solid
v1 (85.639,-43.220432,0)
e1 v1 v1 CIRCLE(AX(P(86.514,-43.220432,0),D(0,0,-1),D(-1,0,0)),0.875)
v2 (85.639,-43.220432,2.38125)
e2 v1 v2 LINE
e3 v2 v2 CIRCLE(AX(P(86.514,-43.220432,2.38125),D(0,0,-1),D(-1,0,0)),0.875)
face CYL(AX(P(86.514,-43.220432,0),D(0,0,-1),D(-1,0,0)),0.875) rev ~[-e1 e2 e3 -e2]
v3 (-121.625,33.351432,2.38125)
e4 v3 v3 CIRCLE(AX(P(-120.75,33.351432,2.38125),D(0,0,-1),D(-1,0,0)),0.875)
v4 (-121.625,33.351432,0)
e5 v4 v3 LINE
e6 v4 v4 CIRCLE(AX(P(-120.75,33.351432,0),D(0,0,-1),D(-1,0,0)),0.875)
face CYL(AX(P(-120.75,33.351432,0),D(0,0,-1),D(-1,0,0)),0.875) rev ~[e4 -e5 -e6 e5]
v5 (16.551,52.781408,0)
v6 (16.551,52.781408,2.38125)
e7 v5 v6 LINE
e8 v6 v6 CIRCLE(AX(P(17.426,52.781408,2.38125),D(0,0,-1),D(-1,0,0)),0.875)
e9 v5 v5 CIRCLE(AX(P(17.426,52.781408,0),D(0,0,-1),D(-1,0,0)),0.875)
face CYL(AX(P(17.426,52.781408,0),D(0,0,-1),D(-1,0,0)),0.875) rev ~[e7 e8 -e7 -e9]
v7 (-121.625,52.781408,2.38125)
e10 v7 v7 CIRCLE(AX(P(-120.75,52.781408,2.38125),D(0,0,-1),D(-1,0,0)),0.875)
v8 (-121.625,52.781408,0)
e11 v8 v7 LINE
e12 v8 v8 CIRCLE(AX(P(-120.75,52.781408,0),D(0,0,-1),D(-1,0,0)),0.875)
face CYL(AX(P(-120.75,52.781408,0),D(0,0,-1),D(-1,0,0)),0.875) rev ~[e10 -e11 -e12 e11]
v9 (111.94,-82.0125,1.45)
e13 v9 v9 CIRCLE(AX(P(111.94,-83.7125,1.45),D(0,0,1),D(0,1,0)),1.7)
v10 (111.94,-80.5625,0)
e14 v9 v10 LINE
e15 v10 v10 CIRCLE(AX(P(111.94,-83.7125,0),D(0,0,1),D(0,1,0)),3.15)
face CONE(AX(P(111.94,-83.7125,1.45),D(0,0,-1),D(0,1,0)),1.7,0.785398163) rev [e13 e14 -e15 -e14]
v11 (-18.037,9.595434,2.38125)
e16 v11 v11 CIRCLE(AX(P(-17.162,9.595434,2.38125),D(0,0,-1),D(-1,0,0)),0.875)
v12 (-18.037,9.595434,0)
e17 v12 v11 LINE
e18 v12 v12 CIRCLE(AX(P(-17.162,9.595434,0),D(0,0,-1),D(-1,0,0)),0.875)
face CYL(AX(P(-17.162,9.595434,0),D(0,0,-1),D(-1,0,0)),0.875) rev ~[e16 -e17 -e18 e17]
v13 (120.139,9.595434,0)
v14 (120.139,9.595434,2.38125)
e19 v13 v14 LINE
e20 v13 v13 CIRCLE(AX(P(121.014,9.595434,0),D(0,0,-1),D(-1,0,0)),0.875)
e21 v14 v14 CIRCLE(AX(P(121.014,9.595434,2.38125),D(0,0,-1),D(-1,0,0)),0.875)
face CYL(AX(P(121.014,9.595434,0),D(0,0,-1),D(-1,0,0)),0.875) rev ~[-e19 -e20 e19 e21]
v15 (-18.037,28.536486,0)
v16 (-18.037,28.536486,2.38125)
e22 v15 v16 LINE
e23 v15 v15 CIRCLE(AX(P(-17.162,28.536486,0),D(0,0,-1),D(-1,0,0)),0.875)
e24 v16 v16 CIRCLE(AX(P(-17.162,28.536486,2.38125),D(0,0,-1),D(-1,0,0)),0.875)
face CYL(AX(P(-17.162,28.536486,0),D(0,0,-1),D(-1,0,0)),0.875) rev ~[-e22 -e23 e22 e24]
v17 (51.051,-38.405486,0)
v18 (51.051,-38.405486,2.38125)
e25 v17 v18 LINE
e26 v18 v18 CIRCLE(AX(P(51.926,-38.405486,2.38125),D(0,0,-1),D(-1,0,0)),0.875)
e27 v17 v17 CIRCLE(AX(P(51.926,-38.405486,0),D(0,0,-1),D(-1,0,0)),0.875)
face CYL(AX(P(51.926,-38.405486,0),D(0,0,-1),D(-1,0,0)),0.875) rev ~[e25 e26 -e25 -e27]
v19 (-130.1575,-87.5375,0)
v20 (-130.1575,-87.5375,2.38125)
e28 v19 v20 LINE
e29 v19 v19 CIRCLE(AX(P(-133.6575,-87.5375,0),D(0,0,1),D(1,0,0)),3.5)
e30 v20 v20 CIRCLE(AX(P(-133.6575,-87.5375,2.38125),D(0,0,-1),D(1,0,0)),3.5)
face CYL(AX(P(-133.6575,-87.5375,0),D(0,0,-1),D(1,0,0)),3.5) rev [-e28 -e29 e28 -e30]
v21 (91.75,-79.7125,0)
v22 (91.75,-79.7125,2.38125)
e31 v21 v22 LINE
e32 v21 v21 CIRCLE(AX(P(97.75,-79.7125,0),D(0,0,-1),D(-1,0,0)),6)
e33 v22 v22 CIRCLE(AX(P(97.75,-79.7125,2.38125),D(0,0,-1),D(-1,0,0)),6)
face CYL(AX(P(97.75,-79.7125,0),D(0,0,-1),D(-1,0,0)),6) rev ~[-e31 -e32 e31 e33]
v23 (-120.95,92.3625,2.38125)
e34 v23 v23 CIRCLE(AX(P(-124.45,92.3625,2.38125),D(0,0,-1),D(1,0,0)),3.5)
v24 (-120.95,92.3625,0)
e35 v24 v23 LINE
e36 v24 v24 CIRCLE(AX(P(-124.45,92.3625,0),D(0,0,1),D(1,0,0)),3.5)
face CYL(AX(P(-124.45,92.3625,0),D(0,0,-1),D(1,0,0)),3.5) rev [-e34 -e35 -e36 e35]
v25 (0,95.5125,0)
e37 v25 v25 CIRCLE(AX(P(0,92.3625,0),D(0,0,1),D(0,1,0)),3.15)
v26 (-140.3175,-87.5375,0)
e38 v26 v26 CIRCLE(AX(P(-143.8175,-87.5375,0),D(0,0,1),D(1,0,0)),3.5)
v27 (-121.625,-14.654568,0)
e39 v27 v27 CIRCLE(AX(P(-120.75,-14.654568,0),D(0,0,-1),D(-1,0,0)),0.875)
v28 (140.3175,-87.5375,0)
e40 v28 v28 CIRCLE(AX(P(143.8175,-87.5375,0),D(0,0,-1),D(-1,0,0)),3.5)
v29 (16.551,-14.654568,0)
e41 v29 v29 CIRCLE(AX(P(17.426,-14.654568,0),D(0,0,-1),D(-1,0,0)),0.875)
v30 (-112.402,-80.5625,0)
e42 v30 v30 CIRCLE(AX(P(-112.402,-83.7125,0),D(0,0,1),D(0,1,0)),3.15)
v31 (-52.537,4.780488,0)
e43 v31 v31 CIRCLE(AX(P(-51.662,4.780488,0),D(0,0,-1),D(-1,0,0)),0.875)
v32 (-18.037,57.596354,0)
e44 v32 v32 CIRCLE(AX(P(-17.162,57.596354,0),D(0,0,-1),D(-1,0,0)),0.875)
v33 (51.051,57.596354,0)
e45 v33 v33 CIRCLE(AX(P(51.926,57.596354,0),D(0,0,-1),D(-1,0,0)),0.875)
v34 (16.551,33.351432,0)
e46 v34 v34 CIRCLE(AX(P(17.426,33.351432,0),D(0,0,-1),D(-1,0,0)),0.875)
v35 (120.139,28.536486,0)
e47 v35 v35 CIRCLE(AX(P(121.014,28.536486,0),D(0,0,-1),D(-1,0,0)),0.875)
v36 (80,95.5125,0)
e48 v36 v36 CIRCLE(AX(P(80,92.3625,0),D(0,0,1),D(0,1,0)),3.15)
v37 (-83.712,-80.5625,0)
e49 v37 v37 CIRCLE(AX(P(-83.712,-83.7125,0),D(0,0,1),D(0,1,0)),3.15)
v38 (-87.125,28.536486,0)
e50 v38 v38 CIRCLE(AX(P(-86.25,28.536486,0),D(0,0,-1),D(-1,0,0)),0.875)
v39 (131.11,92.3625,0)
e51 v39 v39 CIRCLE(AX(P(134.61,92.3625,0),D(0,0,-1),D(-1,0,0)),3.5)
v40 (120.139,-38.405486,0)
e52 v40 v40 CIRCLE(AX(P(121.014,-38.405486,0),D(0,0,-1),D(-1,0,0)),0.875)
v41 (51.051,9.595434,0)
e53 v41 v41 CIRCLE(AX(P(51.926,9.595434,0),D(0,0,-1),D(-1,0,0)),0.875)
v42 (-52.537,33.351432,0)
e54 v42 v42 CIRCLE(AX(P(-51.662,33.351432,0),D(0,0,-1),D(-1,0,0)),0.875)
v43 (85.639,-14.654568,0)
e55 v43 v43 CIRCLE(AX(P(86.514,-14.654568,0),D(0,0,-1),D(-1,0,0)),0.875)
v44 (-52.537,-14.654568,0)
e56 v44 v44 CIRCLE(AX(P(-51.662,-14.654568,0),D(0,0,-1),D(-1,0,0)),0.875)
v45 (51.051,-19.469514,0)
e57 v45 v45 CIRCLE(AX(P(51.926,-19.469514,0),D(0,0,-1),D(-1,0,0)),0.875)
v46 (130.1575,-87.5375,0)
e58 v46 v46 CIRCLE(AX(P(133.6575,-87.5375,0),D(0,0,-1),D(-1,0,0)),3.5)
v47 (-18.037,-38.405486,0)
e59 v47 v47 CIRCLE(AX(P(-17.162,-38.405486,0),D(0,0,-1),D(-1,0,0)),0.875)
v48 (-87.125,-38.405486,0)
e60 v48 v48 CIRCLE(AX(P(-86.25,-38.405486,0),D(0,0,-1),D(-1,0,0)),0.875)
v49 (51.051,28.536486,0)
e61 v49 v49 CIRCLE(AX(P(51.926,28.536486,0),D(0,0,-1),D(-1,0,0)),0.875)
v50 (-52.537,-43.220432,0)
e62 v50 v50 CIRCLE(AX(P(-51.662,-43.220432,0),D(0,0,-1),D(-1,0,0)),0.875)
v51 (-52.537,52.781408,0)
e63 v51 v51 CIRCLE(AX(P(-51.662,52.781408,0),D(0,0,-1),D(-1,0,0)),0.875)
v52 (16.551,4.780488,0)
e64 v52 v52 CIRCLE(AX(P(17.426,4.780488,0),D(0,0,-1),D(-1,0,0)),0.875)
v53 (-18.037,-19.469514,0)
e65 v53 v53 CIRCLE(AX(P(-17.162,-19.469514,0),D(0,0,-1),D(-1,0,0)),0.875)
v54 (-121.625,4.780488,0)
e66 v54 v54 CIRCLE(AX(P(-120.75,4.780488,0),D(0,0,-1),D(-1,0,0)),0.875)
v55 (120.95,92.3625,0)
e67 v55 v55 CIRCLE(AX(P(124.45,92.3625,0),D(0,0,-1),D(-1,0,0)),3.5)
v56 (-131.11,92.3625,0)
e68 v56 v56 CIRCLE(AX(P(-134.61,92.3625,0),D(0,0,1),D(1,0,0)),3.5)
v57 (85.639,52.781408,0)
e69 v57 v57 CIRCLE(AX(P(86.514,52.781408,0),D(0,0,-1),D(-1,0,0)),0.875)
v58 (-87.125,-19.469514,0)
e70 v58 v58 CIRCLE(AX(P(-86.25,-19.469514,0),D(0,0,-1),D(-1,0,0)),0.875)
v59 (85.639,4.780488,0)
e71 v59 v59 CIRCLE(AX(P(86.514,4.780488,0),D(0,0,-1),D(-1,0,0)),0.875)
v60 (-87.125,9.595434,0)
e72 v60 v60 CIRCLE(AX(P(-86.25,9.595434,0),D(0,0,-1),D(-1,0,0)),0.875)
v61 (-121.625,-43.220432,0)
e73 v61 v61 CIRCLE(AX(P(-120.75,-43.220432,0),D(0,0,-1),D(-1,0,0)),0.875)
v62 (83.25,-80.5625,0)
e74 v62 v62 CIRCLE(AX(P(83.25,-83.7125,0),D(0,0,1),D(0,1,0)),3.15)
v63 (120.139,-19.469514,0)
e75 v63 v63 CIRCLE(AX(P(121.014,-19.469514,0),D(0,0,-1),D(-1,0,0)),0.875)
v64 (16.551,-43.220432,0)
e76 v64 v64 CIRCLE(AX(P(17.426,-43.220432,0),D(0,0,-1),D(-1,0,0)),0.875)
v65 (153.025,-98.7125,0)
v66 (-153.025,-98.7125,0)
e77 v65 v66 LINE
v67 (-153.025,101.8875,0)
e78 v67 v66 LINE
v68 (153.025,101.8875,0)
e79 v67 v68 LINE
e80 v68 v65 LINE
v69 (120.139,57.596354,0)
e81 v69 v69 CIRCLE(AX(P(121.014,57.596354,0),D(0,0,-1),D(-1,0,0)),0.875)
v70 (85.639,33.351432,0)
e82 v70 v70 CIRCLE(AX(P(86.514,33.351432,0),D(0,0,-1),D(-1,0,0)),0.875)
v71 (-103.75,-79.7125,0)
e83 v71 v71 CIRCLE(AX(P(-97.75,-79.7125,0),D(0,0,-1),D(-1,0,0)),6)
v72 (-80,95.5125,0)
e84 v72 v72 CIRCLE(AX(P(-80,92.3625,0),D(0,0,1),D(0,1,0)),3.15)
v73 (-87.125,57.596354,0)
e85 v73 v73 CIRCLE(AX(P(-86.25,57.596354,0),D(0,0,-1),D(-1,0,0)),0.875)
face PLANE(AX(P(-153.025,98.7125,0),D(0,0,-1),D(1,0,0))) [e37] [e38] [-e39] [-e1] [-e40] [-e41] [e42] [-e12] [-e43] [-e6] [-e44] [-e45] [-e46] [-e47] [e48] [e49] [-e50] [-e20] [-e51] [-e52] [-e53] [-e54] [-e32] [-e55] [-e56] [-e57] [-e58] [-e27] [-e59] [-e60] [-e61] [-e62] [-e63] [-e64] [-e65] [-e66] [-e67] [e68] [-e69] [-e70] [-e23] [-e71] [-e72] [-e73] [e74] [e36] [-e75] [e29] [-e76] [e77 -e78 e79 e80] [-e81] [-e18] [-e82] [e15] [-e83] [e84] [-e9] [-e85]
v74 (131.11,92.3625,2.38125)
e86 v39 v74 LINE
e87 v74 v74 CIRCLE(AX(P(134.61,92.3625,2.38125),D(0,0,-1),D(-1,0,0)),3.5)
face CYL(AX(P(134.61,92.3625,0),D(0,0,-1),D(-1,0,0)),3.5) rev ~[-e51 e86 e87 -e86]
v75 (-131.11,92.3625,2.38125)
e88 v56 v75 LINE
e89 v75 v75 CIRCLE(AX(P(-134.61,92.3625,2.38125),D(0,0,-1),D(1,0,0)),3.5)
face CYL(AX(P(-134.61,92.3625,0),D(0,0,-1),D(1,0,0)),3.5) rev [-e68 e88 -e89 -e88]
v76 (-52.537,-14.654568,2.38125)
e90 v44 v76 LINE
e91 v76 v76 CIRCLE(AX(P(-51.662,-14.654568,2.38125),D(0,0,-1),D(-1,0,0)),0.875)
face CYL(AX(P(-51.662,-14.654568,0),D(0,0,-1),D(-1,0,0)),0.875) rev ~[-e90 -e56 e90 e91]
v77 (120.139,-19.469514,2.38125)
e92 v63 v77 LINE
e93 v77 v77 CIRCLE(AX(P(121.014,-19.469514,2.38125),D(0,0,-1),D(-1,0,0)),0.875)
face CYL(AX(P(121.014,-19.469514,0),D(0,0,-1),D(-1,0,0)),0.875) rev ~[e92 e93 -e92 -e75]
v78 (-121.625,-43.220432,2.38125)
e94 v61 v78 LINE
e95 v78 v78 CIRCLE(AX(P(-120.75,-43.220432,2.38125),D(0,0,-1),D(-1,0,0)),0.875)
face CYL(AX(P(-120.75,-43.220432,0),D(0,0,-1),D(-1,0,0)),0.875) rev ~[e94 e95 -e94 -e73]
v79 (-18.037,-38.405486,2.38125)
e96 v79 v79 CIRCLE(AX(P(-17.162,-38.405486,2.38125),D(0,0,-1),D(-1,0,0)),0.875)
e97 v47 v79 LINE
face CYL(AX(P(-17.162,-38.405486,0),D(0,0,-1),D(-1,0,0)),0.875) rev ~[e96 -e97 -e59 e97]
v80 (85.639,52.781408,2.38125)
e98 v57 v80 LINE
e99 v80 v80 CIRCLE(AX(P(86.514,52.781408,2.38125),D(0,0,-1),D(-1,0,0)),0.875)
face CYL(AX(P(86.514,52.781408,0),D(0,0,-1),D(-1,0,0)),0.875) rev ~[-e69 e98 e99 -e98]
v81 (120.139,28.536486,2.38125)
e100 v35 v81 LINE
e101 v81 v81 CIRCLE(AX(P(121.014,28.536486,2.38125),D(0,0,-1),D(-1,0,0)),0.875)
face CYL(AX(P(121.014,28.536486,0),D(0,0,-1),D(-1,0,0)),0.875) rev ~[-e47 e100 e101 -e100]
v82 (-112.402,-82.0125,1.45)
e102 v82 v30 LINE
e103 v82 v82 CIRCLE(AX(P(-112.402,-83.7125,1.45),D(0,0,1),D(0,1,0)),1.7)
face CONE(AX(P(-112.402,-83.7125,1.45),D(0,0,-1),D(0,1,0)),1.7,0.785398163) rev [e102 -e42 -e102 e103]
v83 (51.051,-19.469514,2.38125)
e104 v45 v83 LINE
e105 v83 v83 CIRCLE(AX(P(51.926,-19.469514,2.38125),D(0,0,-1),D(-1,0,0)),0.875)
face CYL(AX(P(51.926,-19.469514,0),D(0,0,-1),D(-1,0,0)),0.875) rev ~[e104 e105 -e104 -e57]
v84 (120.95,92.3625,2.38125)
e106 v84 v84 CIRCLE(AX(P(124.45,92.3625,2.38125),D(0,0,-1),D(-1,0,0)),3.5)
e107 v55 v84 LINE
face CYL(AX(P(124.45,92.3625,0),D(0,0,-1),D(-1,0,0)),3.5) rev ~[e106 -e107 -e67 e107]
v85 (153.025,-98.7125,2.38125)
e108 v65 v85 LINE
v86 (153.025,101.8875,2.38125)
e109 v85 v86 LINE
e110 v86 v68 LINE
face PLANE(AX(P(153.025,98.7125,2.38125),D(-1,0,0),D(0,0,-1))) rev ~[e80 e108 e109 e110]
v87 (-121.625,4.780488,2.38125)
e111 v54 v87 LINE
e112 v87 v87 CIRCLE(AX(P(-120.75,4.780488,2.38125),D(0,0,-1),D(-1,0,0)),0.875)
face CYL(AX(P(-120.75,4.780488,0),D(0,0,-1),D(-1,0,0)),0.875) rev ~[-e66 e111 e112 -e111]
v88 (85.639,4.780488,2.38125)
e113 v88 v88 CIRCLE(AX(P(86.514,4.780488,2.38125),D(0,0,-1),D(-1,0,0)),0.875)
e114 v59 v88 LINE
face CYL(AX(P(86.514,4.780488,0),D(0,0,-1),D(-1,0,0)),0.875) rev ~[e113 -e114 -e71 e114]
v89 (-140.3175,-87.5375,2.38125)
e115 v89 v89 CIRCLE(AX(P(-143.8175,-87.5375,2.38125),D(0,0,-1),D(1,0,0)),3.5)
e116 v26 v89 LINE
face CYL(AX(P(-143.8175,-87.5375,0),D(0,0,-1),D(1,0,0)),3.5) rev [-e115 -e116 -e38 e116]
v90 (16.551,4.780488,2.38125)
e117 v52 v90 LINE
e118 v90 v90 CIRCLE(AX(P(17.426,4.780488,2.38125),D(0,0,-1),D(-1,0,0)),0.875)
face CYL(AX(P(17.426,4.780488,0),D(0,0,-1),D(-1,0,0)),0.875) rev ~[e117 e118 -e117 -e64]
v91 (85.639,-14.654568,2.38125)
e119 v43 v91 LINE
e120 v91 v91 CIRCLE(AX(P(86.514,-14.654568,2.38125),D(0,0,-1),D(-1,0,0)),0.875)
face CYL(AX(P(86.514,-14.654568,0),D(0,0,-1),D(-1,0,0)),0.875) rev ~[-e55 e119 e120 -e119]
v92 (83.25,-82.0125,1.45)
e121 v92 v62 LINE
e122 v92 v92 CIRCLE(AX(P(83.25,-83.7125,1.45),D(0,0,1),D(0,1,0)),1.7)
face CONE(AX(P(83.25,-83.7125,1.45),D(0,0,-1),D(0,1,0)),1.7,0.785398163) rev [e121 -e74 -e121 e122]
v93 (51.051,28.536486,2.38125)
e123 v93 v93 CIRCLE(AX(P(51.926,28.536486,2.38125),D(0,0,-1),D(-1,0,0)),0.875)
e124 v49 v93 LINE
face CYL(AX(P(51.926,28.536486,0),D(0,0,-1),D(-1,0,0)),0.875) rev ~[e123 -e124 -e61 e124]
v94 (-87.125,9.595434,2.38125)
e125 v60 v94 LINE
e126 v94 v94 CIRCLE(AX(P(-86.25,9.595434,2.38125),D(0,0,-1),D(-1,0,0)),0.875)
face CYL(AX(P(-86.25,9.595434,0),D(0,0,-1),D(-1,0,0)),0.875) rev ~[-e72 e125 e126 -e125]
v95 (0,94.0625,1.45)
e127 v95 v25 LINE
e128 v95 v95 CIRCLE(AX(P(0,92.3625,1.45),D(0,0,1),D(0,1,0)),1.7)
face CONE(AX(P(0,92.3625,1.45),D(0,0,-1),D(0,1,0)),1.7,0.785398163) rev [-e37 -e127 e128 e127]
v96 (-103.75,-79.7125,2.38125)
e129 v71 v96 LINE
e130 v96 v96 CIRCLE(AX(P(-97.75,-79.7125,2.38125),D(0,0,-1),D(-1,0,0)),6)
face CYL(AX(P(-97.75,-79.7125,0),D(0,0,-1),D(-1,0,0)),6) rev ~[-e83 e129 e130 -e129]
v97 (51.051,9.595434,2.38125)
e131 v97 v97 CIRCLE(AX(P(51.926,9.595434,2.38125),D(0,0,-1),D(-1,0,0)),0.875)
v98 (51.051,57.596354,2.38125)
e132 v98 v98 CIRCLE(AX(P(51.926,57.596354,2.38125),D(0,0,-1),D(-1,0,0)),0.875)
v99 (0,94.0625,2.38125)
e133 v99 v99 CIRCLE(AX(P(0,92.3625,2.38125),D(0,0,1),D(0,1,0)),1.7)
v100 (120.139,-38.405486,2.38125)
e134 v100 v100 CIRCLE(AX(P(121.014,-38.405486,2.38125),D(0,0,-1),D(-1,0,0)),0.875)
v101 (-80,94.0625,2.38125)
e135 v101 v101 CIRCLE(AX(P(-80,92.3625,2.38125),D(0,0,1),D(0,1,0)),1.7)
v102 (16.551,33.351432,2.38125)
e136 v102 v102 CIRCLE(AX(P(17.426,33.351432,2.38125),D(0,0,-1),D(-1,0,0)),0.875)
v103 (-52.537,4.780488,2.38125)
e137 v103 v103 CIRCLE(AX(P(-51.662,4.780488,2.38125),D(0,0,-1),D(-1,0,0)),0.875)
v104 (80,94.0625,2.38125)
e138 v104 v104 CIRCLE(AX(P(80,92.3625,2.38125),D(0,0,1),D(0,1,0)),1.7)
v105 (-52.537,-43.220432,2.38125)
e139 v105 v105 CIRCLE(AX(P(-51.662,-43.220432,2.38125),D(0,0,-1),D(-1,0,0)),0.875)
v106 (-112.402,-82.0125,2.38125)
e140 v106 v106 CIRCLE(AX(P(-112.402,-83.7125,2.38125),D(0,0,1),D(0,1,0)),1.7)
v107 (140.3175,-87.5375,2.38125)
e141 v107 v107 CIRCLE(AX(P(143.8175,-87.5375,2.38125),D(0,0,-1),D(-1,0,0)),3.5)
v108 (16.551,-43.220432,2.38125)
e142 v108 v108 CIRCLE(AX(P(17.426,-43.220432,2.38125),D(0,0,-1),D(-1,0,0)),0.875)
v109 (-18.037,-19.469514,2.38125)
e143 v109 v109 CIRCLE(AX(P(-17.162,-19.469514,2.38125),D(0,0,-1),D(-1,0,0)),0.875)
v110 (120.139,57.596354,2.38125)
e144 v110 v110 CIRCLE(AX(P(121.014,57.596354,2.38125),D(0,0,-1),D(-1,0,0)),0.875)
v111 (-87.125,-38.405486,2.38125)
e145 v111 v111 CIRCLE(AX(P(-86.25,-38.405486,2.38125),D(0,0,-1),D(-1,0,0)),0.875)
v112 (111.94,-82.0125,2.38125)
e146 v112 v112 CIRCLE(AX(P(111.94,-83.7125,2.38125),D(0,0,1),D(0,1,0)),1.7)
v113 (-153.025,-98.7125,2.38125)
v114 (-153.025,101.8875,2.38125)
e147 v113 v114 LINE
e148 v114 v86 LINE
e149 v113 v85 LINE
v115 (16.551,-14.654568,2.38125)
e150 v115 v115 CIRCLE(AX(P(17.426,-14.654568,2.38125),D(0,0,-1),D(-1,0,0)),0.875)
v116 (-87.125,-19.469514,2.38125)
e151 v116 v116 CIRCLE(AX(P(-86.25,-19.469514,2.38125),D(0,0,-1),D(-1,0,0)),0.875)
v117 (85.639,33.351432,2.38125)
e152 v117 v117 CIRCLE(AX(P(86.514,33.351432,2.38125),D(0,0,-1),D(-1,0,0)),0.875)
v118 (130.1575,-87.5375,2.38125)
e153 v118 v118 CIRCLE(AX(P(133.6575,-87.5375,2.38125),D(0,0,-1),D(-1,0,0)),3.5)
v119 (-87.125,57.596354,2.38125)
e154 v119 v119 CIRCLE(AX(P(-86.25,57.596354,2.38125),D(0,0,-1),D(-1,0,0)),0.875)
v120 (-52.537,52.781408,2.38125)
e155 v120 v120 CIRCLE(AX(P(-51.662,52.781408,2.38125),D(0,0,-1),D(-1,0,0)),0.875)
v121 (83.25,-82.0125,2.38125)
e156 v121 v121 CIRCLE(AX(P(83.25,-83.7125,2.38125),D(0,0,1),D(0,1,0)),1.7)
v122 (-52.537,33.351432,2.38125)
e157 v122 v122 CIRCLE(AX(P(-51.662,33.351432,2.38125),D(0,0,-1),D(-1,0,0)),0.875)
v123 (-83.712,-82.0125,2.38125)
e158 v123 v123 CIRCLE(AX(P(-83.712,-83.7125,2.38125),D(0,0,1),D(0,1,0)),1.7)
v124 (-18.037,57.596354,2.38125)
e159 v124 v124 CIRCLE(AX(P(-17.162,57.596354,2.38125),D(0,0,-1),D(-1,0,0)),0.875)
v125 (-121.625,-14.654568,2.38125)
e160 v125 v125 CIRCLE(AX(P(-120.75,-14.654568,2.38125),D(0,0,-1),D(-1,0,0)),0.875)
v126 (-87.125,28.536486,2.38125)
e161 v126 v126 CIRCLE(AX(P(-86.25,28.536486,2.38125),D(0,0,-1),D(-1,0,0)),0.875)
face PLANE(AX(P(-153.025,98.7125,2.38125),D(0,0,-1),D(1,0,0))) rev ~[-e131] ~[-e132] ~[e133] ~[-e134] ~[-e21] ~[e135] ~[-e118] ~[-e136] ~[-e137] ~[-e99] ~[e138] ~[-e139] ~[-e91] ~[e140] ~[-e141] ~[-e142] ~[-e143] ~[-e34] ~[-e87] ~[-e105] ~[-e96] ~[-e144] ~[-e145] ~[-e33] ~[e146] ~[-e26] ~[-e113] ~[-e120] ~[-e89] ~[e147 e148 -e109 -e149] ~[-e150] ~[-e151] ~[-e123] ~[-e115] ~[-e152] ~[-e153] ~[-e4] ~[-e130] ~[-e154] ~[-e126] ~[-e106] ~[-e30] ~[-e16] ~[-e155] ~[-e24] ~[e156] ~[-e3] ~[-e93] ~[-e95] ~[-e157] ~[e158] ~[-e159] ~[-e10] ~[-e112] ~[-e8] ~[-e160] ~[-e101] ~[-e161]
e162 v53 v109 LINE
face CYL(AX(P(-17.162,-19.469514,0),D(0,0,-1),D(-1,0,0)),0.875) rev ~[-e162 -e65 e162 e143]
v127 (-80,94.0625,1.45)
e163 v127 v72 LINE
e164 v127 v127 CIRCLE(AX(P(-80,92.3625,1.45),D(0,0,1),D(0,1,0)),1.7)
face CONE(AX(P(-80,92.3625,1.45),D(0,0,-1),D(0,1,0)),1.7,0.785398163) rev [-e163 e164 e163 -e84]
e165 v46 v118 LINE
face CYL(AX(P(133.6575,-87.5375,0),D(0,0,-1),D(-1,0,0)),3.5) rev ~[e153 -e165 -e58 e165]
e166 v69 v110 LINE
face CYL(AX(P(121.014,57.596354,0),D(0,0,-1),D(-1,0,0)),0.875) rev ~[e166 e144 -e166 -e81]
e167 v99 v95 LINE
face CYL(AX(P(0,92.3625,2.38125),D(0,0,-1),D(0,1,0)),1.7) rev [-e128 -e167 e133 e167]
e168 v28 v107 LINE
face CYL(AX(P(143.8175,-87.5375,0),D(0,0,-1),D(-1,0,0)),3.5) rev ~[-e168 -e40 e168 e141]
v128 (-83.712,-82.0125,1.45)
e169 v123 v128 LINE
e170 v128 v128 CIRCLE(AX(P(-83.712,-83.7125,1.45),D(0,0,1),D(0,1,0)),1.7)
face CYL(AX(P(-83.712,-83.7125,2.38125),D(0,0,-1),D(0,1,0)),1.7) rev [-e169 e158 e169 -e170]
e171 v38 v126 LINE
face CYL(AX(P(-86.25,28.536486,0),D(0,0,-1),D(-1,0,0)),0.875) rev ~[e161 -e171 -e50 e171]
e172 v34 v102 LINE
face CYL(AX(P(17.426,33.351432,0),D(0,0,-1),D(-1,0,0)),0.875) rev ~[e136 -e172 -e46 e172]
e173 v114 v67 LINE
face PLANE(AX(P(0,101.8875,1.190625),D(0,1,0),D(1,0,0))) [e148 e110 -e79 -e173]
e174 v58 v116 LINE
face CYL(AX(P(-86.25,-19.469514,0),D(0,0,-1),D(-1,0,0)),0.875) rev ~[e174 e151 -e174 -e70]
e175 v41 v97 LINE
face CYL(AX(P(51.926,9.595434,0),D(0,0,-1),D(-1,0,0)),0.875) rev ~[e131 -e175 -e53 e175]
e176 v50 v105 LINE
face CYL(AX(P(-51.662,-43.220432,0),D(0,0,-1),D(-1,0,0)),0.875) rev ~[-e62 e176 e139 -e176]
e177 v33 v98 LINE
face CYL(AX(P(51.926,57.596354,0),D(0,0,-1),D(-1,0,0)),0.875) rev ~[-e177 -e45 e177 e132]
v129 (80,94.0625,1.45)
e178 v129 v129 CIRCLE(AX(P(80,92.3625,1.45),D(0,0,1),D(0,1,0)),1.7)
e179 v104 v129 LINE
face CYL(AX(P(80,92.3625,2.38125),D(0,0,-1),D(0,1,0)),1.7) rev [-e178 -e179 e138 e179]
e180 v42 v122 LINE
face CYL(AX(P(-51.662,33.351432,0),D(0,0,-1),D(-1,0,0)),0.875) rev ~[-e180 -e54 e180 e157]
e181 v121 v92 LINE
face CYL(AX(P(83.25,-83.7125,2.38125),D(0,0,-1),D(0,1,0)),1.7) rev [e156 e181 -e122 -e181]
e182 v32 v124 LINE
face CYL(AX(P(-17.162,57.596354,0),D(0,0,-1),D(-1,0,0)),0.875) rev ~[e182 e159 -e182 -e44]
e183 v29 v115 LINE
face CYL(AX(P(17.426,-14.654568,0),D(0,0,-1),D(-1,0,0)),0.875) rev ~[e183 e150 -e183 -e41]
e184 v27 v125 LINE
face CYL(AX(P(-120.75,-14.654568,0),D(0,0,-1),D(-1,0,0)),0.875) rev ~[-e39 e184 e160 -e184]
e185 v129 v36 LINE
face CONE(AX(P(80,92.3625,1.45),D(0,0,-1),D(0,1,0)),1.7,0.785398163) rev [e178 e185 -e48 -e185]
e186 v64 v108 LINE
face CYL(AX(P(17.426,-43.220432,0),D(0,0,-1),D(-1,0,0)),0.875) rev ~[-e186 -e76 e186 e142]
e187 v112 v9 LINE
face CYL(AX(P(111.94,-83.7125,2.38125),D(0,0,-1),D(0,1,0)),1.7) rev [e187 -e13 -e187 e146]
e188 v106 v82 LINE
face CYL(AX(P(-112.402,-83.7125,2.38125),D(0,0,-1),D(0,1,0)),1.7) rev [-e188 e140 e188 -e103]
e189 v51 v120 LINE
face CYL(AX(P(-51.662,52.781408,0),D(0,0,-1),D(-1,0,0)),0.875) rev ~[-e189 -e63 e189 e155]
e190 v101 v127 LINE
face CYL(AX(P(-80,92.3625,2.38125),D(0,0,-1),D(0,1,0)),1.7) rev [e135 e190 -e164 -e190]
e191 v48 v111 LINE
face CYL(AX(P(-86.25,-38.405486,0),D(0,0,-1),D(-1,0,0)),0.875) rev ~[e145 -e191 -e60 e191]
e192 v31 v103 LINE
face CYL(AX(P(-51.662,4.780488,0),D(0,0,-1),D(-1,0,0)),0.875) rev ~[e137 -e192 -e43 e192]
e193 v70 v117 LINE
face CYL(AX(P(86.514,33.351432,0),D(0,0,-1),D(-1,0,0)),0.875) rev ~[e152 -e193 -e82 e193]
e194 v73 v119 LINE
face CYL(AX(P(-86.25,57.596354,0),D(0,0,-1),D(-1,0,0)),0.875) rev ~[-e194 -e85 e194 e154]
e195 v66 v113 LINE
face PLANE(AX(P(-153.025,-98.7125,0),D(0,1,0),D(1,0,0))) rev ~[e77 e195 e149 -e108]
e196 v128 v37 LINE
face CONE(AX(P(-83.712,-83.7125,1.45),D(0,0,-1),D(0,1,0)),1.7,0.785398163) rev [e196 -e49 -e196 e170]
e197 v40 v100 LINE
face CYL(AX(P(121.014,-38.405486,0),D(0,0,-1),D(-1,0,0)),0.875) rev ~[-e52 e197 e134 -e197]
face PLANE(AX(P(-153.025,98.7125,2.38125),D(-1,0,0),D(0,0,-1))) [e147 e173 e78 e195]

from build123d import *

# Parameters (mm, degrees)
SKETCH1_W                                      = 306.05
SKETCH1_H                                      = 197.425
SKETCH1_R                                      = 10.775
BOSS_EXTRUDE1_DEPTH                            = 2.38125
SKETCH9_W                                      = 306.05
SKETCH9_H                                      = 2.38125
BOSS_EXTRUDE2_DEPTH                            = 3.175
SKETCH10_R                                     = 3.5
CUT_EXTRUDE1_DEPTH                             = 184.856965146
CSK_FOR_M3_FLAT_HEAD_MACHINE_SCREW1_AT_2_COUNT = 2
CSK_FOR_M3_FLAT_HEAD_MACHINE_SCREW1_AT_2_PITCH = 28.69
CSK_FOR_M3_FLAT_HEAD_MACHINE_SCREW1_AT_3_COUNT = 2
CSK_FOR_M3_FLAT_HEAD_MACHINE_SCREW1_AT_3_PITCH = 178.948509983
CSK_FOR_M3_FLAT_HEAD_MACHINE_SCREW1_AT_4_COUNT = 2
CSK_FOR_M3_FLAT_HEAD_MACHINE_SCREW1_AT_4_PITCH = 208.645558843
CSK_FOR_M3_FLAT_HEAD_MACHINE_SCREW1_AT_5_COUNT = 2
CSK_FOR_M3_FLAT_HEAD_MACHINE_SCREW1_AT_5_PITCH = 260.467597265
CSK_FOR_M3_FLAT_HEAD_MACHINE_SCREW1_AT_6_COUNT = 2
CSK_FOR_M3_FLAT_HEAD_MACHINE_SCREW1_AT_6_PITCH = 224.342
CSK_FOR_M3_FLAT_HEAD_MACHINE_SCREW1_AT_7_COUNT = 2
CSK_FOR_M3_FLAT_HEAD_MACHINE_SCREW1_AT_7_PITCH = 195.652
SKETCH13_R                                     = 6
CUT_EXTRUDE2_DEPTH                             = 184.856965146
SKETCH15_R                                     = 0.875
CUT_EXTRUDE3_DEPTH                             = 184.856965146


with BuildPart() as part:
    # Sketch1 → Boss-Extrude1 (new body)
    # profile 1 of 5: a face of its own
    with BuildSketch(Plane.XY):
        Rectangle(SKETCH1_W, SKETCH1_H)
        with Locations((-142.25, -87.9375)):
            Circle(SKETCH1_R, mode=Mode.SUBTRACT)
        with Locations((-130.25, -64.9375)):
            Circle(SKETCH1_R, mode=Mode.SUBTRACT)
    # profile 2 of 5: a face of its own
    with BuildSketch(Plane.XY):
        with Locations((-130.25, -64.9375)):
            Circle(SKETCH1_R)
    # profile 3 of 5: a face of its own
    with BuildSketch(Plane.XY):
        with Locations((-142.25, -87.9375)):
            Circle(SKETCH1_R)
    # profile 4 of 5: a face of its own
    with BuildSketch(Plane.XY):
        with BuildLine():
            ThreePointArc((-142.25, -98.7125), (-149.869075567, -95.556575567), (-153.025, -87.9375))
            Line((-153.025, -87.9375), (-153.025, -98.7125))
            Line((-153.025, -98.7125), (-142.25, -98.7125))
        make_face()
    # profile 5 of 5: a face of its own
    with BuildSketch(Plane.XY):
        Rectangle(SKETCH1_W, SKETCH1_H)
    extrude(amount=BOSS_EXTRUDE1_DEPTH)

    # Sketch9 → Boss-Extrude2 (add)
    with BuildSketch(Plane(origin=(0, 98.7125, 0), x_dir=(1, 0, 0), z_dir=(0, 1, 0))):
        with Locations((0, -1.190625)):
            Rectangle(SKETCH9_W, SKETCH9_H)
    extrude(amount=BOSS_EXTRUDE2_DEPTH)

    # Sketch10 → Cut-Extrude1 (cut, through all)
    with BuildSketch(Plane(origin=(0, 0, 0), x_dir=(-1, 0, 0), z_dir=(0, 0, -1))):
        with Locations((-134.610000066, 92.3625)):
            Circle(SKETCH10_R)
        with Locations((-124.450000066, 92.3625)):
            Circle(SKETCH10_R)
        with Locations((-143.817500066, -87.5375001)):
            Circle(SKETCH10_R)
        with Locations((-133.657500066, -87.5375001)):
            Circle(SKETCH10_R)
    cut_extrude1 = extrude(amount=-CUT_EXTRUDE1_DEPTH, mode=Mode.SUBTRACT)

    # Mirror1: Cut-Extrude1 across plane
    add(cut_extrude1.mirror(Plane(origin=(0, 0, 0), x_dir=(0, 0, 1), z_dir=(1, 0, 0))), mode=Mode.SUBTRACT)

    # Sketch12 → CSK for M3 Flat Head Machine Screw1 (revolve, cut)
    with BuildSketch(Plane(origin=(111.94, -83.7125, 0), x_dir=(0, 1, 0), z_dir=(1, 0, 0))):
        Polygon((0, 0), (0, 2.38125), (1.7, 2.38125), (1.7, 1.45), (3.15, 0), align=None)
    csk_for_m3_flat_head_machine_screw1 = revolve(axis=Axis((111.94, -83.7125, -6.35), (0, 0, 1)), mode=Mode.SUBTRACT)

    # CSK for M3 Flat Head Machine Screw1 at 2: CSK for M3 Flat Head Machine Screw1 ×2
    with Locations(*[(-i * CSK_FOR_M3_FLAT_HEAD_MACHINE_SCREW1_AT_2_PITCH, 0, 0) for i in range(1, CSK_FOR_M3_FLAT_HEAD_MACHINE_SCREW1_AT_2_COUNT)]):
        add(csk_for_m3_flat_head_machine_screw1, mode=Mode.SUBTRACT)

    # CSK for M3 Flat Head Machine Screw1 at 3: CSK for M3 Flat Head Machine Screw1 ×2
    with Locations(*[Vector(-0.17848709666869095, 0.9839422525345588, 0) * (i * CSK_FOR_M3_FLAT_HEAD_MACHINE_SCREW1_AT_3_PITCH) for i in range(1, CSK_FOR_M3_FLAT_HEAD_MACHINE_SCREW1_AT_3_COUNT)]):
        add(csk_for_m3_flat_head_machine_screw1, mode=Mode.SUBTRACT)

    # CSK for M3 Flat Head Machine Screw1 at 4: CSK for M3 Flat Head Machine Screw1 ×2
    with Locations(*[Vector(-0.5365079449598529, 0.8438952689729665, 0) * (i * CSK_FOR_M3_FLAT_HEAD_MACHINE_SCREW1_AT_4_PITCH) for i in range(1, CSK_FOR_M3_FLAT_HEAD_MACHINE_SCREW1_AT_4_COUNT)]):
        add(csk_for_m3_flat_head_machine_screw1, mode=Mode.SUBTRACT)

    # CSK for M3 Flat Head Machine Screw1 at 5: CSK for M3 Flat Head Machine Screw1 ×2
    with Locations(*[Vector(-0.7369054808176367, 0.6759957931384838, 0) * (i * CSK_FOR_M3_FLAT_HEAD_MACHINE_SCREW1_AT_5_PITCH) for i in range(1, CSK_FOR_M3_FLAT_HEAD_MACHINE_SCREW1_AT_5_COUNT)]):
        add(csk_for_m3_flat_head_machine_screw1, mode=Mode.SUBTRACT)

    # CSK for M3 Flat Head Machine Screw1 at 6: CSK for M3 Flat Head Machine Screw1 ×2
    with Locations(*[(-i * CSK_FOR_M3_FLAT_HEAD_MACHINE_SCREW1_AT_6_PITCH, 0, 0) for i in range(1, CSK_FOR_M3_FLAT_HEAD_MACHINE_SCREW1_AT_6_COUNT)]):
        add(csk_for_m3_flat_head_machine_screw1, mode=Mode.SUBTRACT)

    # CSK for M3 Flat Head Machine Screw1 at 7: CSK for M3 Flat Head Machine Screw1 ×2
    with Locations(*[(-i * CSK_FOR_M3_FLAT_HEAD_MACHINE_SCREW1_AT_7_PITCH, 0, 0) for i in range(1, CSK_FOR_M3_FLAT_HEAD_MACHINE_SCREW1_AT_7_COUNT)]):
        add(csk_for_m3_flat_head_machine_screw1, mode=Mode.SUBTRACT)

    # Sketch13 → Cut-Extrude2 (cut, through all)
    with BuildSketch(Plane(origin=(0, 0, 0), x_dir=(-1, 0, 0), z_dir=(0, 0, -1))):
        with Locations((-97.75, -79.7125001)):
            Circle(SKETCH13_R)
        with Locations((97.75, -79.7125001)):
            Circle(SKETCH13_R)
    extrude(amount=-CUT_EXTRUDE2_DEPTH, mode=Mode.SUBTRACT)

    # Sketch15 → Cut-Extrude3 (cut, through all)
    with BuildSketch(Plane(origin=(0, 0, 0), x_dir=(-1, 0, 0), z_dir=(0, 0, -1))):
        with Locations((86.25, 9.595433878)):
            Circle(SKETCH15_R)
        with Locations((-51.926, 57.596353878)):
            Circle(SKETCH15_R)
        with Locations((-17.426, 52.781407709)):
            Circle(SKETCH15_R)
        with Locations((-86.514, -43.220432291)):
            Circle(SKETCH15_R)
        with Locations((-121.014, -38.405486122)):
            Circle(SKETCH15_R)
        with Locations((-121.014, -19.469513878)):
            Circle(SKETCH15_R)
        with Locations((-86.514, -14.65456771)):
            Circle(SKETCH15_R)
        with Locations((-86.514, 4.780487709)):
            Circle(SKETCH15_R)
        with Locations((-121.014, 9.595433878)):
            Circle(SKETCH15_R)
        with Locations((-121.014, 28.536486122)):
            Circle(SKETCH15_R)
        with Locations((-86.514, 33.35143229)):
            Circle(SKETCH15_R)
        with Locations((-86.514, 52.781407709)):
            Circle(SKETCH15_R)
        with Locations((-121.014, 57.596353878)):
            Circle(SKETCH15_R)
        with Locations((-51.926, 28.536486122)):
            Circle(SKETCH15_R)
        with Locations((-17.426, 33.35143229)):
            Circle(SKETCH15_R)
        with Locations((-17.426, 4.780487709)):
            Circle(SKETCH15_R)
        with Locations((-51.926, 9.595433878)):
            Circle(SKETCH15_R)
        with Locations((-51.926, -19.469513878)):
            Circle(SKETCH15_R)
        with Locations((-17.426, -14.65456771)):
            Circle(SKETCH15_R)
        with Locations((-51.926, -38.405486122)):
            Circle(SKETCH15_R)
        with Locations((-17.426, -43.220432291)):
            Circle(SKETCH15_R)
        with Locations((17.162, -38.405486122)):
            Circle(SKETCH15_R)
        with Locations((17.162, -19.469513878)):
            Circle(SKETCH15_R)
        with Locations((51.662, -14.65456771)):
            Circle(SKETCH15_R)
        with Locations((17.162, 9.595433878)):
            Circle(SKETCH15_R)
        with Locations((51.662, 4.780487709)):
            Circle(SKETCH15_R)
        with Locations((51.662, 33.35143229)):
            Circle(SKETCH15_R)
        with Locations((17.162, 28.536486122)):
            Circle(SKETCH15_R)
        with Locations((17.162, 57.596353878)):
            Circle(SKETCH15_R)
        with Locations((51.662, 52.781407709)):
            Circle(SKETCH15_R)
        with Locations((86.25, 57.596353878)):
            Circle(SKETCH15_R)
        with Locations((120.75, 52.781407709)):
            Circle(SKETCH15_R)
        with Locations((86.25, 28.536486122)):
            Circle(SKETCH15_R)
        with Locations((120.75, 33.35143229)):
            Circle(SKETCH15_R)
        with Locations((51.662, -43.220432291)):
            Circle(SKETCH15_R)
        with Locations((86.25, -38.405486122)):
            Circle(SKETCH15_R)
        with Locations((86.25, -19.469513878)):
            Circle(SKETCH15_R)
        with Locations((120.75, 4.780487709)):
            Circle(SKETCH15_R)
        with Locations((120.75, -14.65456771)):
            Circle(SKETCH15_R)
        with Locations((120.75, -43.220432291)):
            Circle(SKETCH15_R)
    extrude(amount=-CUT_EXTRUDE3_DEPTH, mode=Mode.SUBTRACT)


solid = part.part
